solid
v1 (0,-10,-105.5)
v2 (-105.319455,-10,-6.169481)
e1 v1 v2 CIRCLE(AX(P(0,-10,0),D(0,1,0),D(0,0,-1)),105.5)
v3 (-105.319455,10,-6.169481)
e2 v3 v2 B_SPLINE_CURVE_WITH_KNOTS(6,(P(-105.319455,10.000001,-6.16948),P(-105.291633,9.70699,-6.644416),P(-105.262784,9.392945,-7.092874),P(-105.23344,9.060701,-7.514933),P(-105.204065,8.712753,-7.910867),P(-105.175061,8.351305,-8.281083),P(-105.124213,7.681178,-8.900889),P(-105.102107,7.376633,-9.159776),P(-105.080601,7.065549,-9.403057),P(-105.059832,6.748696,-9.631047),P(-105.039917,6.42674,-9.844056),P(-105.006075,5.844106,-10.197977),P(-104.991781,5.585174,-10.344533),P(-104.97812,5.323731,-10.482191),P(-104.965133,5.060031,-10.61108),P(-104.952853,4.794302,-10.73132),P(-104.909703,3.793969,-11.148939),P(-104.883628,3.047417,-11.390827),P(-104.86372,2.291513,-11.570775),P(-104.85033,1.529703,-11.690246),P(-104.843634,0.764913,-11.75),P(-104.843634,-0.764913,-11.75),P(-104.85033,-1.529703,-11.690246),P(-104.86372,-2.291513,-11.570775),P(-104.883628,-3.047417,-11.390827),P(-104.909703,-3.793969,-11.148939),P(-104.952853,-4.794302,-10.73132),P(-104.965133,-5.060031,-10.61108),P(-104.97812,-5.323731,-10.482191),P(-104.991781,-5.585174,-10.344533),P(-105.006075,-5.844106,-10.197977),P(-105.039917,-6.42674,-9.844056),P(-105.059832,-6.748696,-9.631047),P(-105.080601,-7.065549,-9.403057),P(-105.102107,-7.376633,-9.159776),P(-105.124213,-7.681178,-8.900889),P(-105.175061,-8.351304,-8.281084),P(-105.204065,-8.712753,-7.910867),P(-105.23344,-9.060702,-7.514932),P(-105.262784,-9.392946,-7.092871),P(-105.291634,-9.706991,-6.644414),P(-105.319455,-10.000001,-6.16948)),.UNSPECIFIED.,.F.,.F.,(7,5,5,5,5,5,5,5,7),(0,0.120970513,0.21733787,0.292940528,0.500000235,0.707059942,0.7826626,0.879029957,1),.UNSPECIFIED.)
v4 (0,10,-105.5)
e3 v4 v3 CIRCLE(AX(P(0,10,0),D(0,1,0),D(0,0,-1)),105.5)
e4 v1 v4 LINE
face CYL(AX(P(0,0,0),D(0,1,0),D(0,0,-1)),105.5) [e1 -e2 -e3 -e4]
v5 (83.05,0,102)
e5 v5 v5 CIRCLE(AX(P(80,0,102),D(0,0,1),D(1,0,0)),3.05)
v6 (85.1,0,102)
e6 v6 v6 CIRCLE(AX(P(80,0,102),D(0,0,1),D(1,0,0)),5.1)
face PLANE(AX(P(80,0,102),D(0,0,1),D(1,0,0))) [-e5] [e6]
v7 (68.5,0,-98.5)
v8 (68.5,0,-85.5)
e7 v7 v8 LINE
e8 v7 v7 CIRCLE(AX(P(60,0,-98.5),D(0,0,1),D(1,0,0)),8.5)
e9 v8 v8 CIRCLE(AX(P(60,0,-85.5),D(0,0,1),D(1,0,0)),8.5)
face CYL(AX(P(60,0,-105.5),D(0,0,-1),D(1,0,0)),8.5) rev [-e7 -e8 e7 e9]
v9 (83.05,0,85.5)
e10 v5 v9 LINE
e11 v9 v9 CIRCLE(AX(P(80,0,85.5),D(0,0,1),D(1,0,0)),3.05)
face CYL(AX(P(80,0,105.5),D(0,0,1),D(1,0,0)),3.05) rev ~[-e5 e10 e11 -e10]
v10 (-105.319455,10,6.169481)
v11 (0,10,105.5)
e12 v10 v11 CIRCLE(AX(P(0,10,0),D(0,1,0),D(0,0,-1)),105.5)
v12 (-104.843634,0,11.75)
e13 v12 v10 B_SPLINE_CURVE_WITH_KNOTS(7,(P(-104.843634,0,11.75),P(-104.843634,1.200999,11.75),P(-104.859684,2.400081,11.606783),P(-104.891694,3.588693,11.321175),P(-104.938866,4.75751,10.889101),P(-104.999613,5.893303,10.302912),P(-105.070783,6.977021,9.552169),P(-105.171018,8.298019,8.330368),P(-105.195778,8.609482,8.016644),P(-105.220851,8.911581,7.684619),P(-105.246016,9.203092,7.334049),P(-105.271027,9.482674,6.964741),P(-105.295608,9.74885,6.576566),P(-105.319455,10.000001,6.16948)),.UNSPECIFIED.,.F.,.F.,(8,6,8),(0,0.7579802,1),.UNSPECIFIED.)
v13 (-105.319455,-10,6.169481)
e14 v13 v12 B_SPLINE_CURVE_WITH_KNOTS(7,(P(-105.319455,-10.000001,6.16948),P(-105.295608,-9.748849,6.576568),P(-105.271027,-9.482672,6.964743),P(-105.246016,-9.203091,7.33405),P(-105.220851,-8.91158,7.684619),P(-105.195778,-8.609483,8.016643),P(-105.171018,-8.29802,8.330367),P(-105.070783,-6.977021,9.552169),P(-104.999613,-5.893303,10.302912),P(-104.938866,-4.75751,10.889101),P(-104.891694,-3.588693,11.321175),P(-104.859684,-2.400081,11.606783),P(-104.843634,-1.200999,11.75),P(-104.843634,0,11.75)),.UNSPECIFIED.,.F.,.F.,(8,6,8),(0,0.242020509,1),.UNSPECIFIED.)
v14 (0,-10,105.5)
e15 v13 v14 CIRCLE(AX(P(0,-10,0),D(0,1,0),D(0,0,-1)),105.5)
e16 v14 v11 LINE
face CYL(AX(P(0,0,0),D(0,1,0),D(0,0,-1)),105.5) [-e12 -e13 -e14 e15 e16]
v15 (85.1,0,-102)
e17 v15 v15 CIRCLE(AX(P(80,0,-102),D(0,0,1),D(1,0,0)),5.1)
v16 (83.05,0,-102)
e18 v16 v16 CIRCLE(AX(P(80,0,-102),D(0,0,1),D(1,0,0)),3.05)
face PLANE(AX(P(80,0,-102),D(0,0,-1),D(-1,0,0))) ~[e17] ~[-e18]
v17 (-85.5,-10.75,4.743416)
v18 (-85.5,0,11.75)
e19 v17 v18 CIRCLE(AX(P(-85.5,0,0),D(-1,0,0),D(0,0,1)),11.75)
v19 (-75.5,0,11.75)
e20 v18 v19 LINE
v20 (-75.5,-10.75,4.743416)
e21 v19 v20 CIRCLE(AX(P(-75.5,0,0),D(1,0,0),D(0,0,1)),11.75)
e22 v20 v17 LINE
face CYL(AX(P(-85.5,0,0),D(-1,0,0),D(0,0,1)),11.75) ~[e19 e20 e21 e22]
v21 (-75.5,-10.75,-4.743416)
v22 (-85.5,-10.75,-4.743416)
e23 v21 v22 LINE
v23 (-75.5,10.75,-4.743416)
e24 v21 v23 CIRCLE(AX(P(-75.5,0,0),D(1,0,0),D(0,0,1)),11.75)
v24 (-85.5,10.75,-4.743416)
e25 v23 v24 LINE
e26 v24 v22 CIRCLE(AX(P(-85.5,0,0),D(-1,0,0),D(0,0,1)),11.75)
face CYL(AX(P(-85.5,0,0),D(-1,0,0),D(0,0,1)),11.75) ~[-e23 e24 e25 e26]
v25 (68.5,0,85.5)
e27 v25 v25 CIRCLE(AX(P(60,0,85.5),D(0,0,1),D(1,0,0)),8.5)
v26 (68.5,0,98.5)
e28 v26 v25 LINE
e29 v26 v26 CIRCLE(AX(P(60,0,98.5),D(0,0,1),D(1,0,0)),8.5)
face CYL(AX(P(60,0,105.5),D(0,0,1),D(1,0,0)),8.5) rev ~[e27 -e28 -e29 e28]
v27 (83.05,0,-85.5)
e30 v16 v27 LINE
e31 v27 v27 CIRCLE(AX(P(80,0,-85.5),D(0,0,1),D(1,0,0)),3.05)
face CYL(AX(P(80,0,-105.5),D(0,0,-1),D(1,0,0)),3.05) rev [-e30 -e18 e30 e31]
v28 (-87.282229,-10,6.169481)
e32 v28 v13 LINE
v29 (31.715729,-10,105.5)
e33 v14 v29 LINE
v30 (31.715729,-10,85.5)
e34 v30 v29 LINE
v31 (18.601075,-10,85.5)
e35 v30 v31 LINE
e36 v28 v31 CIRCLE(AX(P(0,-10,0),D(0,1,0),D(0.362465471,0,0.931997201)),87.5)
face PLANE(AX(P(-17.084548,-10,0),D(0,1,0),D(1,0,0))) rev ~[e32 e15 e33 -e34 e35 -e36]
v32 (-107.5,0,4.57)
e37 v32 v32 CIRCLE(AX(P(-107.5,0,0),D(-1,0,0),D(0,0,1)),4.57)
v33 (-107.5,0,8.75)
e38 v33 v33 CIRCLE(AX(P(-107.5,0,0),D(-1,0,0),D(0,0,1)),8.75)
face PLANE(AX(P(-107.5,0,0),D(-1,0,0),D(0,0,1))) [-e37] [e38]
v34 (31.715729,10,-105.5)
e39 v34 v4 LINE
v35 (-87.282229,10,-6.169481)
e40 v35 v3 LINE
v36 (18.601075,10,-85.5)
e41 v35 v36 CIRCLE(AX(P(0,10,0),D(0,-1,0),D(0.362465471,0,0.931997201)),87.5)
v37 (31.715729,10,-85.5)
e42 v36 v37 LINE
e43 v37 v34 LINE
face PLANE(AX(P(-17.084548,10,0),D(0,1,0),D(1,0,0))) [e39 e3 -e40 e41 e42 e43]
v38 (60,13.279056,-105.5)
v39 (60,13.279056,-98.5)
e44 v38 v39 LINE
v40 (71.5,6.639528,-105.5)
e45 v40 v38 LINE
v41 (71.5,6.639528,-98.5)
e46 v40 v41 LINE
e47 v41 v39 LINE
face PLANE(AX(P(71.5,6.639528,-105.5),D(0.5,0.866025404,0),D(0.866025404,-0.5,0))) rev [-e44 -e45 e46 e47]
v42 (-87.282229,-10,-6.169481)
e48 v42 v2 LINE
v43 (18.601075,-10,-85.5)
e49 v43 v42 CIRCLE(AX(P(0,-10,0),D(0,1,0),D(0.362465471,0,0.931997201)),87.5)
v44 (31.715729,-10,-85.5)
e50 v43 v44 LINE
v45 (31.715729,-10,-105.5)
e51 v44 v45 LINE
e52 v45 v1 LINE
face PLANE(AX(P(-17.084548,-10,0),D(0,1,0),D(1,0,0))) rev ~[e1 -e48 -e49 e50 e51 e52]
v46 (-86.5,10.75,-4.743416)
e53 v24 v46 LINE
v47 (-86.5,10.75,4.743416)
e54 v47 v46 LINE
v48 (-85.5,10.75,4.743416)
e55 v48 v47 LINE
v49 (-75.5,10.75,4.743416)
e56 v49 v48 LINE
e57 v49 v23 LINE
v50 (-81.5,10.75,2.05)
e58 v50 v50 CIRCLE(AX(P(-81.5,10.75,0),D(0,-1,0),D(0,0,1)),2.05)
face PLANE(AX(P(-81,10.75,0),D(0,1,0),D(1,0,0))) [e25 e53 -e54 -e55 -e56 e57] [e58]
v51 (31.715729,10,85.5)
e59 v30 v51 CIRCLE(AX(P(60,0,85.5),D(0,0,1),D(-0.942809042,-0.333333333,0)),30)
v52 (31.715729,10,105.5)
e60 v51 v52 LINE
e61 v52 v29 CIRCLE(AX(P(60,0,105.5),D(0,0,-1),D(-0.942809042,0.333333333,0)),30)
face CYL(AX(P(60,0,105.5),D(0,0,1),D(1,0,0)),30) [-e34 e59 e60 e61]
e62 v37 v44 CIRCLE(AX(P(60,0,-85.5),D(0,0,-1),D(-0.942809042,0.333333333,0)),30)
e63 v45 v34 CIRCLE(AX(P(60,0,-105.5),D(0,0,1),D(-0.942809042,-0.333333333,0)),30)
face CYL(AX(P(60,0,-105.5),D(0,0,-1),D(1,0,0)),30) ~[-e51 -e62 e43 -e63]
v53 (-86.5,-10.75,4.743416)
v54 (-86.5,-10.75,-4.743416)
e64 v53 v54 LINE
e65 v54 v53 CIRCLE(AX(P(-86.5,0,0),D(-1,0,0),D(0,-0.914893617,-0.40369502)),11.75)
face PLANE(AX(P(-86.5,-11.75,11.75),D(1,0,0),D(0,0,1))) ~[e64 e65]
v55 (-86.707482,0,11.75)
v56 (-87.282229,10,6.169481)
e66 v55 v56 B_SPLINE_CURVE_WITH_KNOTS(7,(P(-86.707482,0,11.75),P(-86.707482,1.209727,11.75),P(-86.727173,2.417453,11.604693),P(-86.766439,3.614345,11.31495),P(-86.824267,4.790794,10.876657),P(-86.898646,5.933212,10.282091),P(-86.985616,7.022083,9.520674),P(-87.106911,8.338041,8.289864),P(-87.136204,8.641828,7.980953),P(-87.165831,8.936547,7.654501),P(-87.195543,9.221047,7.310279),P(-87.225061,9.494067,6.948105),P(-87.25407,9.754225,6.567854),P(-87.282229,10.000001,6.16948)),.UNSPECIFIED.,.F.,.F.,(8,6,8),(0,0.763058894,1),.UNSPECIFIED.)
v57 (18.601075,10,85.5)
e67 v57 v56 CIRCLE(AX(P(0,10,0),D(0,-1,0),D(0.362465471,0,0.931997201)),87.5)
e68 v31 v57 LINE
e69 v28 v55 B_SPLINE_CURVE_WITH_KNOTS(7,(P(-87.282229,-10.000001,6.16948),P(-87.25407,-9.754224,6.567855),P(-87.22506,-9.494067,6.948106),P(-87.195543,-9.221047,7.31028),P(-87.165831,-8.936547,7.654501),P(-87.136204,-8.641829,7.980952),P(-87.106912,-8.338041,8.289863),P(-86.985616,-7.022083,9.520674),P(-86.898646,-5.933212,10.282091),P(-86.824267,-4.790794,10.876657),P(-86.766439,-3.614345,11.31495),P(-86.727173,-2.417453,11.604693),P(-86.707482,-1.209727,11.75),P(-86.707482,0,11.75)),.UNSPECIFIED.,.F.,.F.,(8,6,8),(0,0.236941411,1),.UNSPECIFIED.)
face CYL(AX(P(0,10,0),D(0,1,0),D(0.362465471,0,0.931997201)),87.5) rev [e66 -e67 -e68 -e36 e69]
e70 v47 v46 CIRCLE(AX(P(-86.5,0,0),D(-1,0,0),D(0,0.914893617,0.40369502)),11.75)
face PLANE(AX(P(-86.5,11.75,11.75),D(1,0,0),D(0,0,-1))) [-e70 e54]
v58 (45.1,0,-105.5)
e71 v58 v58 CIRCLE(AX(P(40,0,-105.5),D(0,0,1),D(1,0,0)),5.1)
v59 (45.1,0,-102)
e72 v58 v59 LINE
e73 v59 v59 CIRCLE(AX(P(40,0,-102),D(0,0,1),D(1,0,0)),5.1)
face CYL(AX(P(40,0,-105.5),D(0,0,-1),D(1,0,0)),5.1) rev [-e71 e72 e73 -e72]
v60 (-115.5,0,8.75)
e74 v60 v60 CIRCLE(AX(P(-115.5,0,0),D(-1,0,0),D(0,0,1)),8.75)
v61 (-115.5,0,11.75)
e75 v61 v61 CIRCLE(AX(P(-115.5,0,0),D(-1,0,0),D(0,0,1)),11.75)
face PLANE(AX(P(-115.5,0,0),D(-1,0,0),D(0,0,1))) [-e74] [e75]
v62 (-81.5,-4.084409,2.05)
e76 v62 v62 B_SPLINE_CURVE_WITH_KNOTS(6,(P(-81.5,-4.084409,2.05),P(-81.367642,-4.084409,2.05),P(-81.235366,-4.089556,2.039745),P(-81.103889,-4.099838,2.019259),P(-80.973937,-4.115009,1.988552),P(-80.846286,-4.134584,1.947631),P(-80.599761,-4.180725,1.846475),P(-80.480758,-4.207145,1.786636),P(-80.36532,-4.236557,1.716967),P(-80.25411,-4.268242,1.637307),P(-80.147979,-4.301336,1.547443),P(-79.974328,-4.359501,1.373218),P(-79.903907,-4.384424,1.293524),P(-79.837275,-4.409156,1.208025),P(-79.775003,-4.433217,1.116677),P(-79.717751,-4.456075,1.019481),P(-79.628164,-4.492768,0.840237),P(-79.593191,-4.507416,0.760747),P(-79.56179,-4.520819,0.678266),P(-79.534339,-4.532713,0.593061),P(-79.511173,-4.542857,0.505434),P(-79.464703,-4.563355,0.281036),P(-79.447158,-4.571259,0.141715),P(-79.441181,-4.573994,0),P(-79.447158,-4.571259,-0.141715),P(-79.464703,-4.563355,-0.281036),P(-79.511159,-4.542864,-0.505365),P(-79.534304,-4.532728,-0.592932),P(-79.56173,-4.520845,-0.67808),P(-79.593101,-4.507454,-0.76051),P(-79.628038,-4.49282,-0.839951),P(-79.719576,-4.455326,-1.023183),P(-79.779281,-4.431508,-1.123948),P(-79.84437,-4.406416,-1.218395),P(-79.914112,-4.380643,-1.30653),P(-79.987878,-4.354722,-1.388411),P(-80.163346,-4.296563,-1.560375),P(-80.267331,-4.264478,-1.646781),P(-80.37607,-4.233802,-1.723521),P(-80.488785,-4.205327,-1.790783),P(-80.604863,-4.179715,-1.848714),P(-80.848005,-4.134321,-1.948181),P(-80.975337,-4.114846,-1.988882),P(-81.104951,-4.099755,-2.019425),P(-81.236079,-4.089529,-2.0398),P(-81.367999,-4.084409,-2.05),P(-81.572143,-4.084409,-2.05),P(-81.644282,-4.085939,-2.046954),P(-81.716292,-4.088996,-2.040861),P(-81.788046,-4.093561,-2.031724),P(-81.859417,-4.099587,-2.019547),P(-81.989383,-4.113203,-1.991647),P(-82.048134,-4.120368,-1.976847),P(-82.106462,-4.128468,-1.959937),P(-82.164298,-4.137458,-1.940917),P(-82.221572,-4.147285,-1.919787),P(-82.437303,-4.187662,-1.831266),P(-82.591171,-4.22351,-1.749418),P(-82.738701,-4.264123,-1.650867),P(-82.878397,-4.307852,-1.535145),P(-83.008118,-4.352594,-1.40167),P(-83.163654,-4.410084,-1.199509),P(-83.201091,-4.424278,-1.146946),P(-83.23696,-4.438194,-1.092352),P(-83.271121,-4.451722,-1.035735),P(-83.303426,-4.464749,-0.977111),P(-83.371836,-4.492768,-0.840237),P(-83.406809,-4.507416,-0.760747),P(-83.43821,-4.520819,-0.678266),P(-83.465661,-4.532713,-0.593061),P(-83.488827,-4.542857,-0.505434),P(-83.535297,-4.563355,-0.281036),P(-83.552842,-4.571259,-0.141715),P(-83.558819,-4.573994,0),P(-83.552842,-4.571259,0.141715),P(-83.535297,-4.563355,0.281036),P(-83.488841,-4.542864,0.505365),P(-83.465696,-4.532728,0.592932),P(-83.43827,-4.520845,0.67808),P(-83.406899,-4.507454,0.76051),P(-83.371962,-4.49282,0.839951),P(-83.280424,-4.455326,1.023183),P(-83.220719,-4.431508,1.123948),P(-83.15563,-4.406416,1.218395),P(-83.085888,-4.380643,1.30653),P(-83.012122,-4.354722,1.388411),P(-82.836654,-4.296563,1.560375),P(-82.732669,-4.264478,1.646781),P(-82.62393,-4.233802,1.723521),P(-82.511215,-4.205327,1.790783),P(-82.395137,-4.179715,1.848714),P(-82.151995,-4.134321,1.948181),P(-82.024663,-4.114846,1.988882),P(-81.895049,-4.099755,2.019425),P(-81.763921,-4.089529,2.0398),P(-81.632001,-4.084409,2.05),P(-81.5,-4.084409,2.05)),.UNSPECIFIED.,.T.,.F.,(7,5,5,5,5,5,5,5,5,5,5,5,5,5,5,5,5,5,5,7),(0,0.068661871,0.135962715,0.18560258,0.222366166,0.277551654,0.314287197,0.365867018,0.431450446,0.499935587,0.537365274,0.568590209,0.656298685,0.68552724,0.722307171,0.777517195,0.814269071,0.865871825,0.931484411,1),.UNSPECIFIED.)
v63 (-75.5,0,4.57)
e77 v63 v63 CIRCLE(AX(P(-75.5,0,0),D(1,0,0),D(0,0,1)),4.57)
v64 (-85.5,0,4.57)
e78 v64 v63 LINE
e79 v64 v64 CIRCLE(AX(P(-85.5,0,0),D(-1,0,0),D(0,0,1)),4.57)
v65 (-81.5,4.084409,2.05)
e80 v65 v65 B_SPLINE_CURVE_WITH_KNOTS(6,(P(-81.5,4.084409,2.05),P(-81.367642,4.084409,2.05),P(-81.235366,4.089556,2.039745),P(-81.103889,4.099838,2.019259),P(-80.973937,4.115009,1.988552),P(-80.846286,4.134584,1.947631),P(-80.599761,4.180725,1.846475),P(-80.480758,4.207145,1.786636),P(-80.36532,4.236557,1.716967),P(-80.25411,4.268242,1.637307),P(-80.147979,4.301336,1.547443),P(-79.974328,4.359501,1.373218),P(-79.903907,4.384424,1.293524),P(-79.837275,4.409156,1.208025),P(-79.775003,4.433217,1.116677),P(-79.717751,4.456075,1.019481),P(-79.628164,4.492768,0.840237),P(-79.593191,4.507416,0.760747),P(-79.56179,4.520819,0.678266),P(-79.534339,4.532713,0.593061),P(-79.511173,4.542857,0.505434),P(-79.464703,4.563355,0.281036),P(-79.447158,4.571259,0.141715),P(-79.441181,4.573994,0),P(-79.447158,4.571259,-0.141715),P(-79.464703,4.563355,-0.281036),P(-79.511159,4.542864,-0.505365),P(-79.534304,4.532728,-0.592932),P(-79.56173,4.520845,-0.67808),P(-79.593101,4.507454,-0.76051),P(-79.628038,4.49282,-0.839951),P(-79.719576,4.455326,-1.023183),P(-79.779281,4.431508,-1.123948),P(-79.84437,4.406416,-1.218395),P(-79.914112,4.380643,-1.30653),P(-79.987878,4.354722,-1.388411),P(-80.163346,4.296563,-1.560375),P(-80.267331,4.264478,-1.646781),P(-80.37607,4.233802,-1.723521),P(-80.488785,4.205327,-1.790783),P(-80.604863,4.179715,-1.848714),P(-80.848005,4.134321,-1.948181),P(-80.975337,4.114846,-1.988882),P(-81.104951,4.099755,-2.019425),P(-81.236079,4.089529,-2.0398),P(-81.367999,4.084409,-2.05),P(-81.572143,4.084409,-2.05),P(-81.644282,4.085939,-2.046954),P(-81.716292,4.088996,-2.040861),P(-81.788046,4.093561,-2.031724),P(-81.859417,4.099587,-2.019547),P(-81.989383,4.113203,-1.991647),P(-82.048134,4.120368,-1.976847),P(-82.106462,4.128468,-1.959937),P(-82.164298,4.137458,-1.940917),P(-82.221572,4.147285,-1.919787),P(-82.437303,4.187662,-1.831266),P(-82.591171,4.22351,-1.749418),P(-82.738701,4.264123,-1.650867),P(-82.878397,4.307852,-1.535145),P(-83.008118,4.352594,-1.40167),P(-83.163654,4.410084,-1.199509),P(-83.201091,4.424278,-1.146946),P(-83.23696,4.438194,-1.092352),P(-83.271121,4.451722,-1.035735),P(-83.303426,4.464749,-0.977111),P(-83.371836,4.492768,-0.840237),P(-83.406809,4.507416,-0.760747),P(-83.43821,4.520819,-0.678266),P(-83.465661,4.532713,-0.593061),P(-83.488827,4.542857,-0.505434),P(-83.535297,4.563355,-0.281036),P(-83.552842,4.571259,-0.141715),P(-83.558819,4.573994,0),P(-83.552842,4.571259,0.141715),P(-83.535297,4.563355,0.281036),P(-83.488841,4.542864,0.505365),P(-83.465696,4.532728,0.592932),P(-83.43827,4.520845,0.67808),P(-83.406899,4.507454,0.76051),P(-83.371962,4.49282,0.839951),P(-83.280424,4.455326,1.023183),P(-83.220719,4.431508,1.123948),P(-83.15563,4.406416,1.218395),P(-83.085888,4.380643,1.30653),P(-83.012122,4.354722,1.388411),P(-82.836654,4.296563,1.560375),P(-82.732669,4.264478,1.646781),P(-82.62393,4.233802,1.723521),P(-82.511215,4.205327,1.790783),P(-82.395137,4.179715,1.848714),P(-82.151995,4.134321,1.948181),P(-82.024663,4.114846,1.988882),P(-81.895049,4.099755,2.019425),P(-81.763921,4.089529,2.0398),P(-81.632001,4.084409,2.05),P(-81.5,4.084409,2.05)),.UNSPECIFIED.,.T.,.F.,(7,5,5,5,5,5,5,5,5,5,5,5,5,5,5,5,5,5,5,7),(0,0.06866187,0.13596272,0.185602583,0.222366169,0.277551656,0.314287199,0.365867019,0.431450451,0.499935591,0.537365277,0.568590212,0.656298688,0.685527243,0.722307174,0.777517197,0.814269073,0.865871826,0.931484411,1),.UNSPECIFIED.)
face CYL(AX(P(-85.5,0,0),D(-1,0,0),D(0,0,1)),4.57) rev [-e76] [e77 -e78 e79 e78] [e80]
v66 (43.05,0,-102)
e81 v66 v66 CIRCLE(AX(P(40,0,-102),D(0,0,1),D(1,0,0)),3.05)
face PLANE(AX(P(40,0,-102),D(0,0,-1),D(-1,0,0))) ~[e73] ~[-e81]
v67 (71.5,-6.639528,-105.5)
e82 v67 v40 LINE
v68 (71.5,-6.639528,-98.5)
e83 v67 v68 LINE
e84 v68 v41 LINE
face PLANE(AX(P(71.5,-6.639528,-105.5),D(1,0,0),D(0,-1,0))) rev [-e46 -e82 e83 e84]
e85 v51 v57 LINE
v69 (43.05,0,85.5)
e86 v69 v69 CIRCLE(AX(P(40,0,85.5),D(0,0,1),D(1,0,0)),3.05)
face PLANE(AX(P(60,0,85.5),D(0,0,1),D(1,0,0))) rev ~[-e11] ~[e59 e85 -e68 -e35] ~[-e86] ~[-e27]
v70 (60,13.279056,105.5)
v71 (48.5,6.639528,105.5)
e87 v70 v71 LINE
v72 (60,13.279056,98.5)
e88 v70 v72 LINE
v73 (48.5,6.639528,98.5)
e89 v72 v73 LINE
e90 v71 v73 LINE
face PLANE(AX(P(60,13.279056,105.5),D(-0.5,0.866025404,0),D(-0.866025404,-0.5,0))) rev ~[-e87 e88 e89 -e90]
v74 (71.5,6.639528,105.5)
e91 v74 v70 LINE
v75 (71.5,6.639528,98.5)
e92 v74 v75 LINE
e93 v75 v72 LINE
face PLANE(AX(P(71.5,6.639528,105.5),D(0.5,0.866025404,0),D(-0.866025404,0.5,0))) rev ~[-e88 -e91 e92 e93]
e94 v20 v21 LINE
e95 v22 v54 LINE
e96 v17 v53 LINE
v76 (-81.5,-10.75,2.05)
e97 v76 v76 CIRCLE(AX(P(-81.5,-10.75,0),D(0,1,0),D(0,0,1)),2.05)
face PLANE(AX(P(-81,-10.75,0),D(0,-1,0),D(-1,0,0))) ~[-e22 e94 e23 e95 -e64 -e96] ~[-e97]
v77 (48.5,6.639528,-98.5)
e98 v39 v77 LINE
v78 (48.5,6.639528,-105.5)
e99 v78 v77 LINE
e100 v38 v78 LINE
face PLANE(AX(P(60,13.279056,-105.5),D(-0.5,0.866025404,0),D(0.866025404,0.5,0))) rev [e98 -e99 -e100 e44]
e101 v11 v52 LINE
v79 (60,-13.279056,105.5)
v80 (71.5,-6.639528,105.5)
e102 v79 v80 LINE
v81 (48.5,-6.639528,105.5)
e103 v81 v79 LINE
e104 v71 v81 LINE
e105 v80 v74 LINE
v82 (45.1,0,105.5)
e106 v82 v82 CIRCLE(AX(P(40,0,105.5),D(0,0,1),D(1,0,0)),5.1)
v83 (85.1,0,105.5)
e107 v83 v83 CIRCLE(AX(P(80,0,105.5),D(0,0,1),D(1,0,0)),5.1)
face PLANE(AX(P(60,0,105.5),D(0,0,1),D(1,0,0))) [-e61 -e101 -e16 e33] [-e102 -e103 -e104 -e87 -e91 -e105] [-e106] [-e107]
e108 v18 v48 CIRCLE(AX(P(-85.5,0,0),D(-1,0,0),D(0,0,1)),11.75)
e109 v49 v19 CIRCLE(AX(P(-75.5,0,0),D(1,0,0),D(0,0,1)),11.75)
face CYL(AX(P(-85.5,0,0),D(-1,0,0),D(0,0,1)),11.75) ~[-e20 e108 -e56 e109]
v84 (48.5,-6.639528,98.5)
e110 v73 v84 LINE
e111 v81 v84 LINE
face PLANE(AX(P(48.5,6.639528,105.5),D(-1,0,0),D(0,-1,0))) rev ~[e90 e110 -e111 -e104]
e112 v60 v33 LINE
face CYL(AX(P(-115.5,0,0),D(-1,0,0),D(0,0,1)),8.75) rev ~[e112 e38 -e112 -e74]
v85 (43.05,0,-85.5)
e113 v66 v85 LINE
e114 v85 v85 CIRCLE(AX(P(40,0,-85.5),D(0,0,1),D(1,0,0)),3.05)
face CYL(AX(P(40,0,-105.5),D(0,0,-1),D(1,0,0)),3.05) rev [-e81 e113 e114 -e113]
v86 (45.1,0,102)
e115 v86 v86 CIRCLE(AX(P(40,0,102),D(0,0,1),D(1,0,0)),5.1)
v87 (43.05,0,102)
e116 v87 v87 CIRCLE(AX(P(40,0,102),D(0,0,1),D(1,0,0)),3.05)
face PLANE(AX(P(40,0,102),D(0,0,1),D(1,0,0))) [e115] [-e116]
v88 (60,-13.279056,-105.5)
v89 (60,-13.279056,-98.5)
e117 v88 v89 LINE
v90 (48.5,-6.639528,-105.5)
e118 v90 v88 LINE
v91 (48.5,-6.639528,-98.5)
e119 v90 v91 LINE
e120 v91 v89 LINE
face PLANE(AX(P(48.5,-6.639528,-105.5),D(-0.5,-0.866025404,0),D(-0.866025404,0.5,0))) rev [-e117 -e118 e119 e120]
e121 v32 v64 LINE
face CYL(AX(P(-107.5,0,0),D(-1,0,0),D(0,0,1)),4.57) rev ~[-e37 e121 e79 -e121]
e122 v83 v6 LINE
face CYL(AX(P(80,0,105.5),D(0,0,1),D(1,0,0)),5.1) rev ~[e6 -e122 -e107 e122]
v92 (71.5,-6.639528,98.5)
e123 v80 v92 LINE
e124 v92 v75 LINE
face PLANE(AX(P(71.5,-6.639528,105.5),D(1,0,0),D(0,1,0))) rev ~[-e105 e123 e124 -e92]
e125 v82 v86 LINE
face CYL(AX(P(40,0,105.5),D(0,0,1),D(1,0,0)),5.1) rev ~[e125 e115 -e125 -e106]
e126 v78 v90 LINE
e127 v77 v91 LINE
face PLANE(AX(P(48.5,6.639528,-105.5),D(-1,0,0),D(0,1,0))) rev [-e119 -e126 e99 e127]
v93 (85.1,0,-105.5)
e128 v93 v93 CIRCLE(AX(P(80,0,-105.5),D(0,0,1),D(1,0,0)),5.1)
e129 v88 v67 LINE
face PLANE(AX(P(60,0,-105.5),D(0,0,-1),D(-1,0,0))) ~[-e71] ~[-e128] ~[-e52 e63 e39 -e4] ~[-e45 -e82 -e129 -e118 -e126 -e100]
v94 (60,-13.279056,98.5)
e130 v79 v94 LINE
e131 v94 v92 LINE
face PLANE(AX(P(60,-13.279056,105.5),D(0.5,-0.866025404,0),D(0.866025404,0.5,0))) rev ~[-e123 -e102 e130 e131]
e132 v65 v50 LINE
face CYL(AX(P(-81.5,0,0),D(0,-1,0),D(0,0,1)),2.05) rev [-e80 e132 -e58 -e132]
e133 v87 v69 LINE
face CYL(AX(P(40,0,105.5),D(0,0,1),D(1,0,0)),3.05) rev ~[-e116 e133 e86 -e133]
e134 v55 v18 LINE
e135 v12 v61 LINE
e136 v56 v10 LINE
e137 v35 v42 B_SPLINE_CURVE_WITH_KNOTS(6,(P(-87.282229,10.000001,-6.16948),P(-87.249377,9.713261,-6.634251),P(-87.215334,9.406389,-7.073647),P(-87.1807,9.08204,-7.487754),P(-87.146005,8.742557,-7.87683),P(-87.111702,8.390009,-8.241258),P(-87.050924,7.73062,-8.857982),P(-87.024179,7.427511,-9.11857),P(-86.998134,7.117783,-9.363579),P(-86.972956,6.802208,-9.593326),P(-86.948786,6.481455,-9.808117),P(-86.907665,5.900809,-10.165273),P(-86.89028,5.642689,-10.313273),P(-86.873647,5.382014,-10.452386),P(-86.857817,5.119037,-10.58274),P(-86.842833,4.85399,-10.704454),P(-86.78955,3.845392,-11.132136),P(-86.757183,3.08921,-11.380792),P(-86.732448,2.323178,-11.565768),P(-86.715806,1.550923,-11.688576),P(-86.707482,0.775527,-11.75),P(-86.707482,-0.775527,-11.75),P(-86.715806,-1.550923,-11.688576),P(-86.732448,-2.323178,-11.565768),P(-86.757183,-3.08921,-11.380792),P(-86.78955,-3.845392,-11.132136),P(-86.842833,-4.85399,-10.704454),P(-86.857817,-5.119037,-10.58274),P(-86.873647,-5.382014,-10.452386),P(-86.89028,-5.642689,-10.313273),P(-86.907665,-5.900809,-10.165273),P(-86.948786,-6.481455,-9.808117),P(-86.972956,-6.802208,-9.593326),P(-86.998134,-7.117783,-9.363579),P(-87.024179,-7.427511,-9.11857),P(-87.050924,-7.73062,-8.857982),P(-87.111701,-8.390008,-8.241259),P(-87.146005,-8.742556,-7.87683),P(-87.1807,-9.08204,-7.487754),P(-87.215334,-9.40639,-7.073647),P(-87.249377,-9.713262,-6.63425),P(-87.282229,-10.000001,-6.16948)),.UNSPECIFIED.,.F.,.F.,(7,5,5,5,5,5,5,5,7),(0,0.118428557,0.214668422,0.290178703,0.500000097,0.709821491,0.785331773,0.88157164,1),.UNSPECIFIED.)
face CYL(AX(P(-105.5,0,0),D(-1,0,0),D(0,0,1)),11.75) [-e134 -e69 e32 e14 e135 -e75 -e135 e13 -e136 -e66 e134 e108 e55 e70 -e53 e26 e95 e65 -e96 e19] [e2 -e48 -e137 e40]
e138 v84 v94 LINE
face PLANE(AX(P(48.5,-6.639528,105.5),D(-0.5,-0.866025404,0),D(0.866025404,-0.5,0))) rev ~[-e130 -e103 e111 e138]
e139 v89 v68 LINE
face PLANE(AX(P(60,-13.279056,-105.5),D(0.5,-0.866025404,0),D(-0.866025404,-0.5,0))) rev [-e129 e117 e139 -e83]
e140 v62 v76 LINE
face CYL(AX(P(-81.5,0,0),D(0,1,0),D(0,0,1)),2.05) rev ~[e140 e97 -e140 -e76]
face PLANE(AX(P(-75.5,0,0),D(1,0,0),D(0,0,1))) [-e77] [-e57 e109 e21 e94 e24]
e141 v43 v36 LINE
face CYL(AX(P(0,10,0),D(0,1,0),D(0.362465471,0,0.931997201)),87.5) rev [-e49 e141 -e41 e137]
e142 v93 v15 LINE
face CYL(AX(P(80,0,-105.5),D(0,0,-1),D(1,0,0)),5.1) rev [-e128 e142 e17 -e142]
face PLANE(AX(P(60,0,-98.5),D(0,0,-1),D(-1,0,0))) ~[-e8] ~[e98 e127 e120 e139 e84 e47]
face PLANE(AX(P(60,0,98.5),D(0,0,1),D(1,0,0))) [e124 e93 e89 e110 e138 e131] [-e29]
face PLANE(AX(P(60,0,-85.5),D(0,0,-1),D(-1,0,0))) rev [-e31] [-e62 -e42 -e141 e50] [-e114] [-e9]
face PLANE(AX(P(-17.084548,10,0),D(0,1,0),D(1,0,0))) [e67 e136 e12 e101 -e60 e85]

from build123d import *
from build123d.topology import SkipClean

# Parameters (mm, degrees)
BOSS_EXTRUDE1_DEPTH      = 10
BOSS_EXTRUDE1_DEPTH_BACK = 10
SKETCH2_R                = 30
BOSS_EXTRUDE2_DEPTH      = 20
CUT_EXTRUDE1_REACH       = 239.805
SKETCH3_R                = 8.5
SKETCH3_R_2              = 3.05
CUT_EXTRUDE3_DEPTH       = 155.468443379
SKETCH7_R                = 8.5
CUT_EXTRUDE4_DEPTH       = 7
BOSS_EXTRUDE3_DEPTH      = 10
BOSS_EXTRUDE3_DEPTH_BACK = 20
SKETCH8_R                = 11.75
SKETCH9_R                = 8.75
CUT_EXTRUDE5_DEPTH       = 8
SKETCH10_R               = 4.57
CUT_EXTRUDE6_DEPTH       = 226.912593764
SKETCH11_R               = 11.75
SKETCH11_R_2             = 4.57
BOSS_EXTRUDE4_DEPTH      = 10
CUT_EXTRUDE7_DEPTH       = 160.281198025
CUT_EXTRUDE7_DEPTH_BACK  = 160.281198025
SKETCH12_R               = 2.05
SKETCH13_R               = 5.1
SKETCH13_R_2             = 3.05
CUT_EXTRUDE8_DEPTH       = 3.5
SKETCH14_W               = 11
SKETCH14_H               = 23.5
CUT_EXTRUDE9_DEPTH       = 1


with BuildPart() as part:
    # Sketch1 → Boss-Extrude1 (new, two sides: drawn at the far end of the back side and taken through both)
    with BuildSketch(Plane(origin=(0, 0, 0), x_dir=(1, 0, 0), z_dir=(0, 1, 0)).offset(-BOSS_EXTRUDE1_DEPTH_BACK)):
        with BuildLine():
            ThreePointArc((0, -85.5), (-85.5, 0), (0, 85.5))
            Line((0, 85.5), (80, 85.5))
            Line((80, 85.5), (80, 105.5))
            Line((80, 105.5), (0, 105.5))
            ThreePointArc((0, 105.5), (-105.5, 0), (0, -105.5))
            Line((0, -105.5), (80, -105.5))
            Line((80, -105.5), (80, -85.5))
            Line((80, -85.5), (0, -85.5))
        make_face()
    extrude(amount=BOSS_EXTRUDE1_DEPTH + BOSS_EXTRUDE1_DEPTH_BACK)

    # Sketch2 → Boss-Extrude2 (add)
    with BuildSketch(Plane.XY.offset(105.5)):
        with Locations((60, 0)):
            Circle(SKETCH2_R)
    boss_extrude2 = extrude(amount=-BOSS_EXTRUDE2_DEPTH)

    # Sketch3 → Cut-Extrude1 (cut, up to next)
    with BuildSketch(Plane.XY.offset(105.5), mode=Mode.PRIVATE) as cut_extrude1_sk1:
        with Locations((60, 0)):
            Circle(SKETCH3_R)
    cut_extrude1_tool1 = extrude(cut_extrude1_sk1.sketch, amount=-CUT_EXTRUDE1_REACH, mode=Mode.PRIVATE) & part.part
    # Sketch3 → Cut-Extrude1 (cut, up to next)
    with BuildSketch(Plane.XY.offset(105.5), mode=Mode.PRIVATE) as cut_extrude1_sk2:
        with Locations((80, 0)):
            Circle(SKETCH3_R_2)
    cut_extrude1_tool2 = extrude(cut_extrude1_sk2.sketch, amount=-CUT_EXTRUDE1_REACH, mode=Mode.PRIVATE) & part.part
    # Sketch3 → Cut-Extrude1 (cut, up to next)
    with BuildSketch(Plane.XY.offset(105.5), mode=Mode.PRIVATE) as cut_extrude1_sk3:
        with Locations((40, 0)):
            Circle(SKETCH3_R_2)
    cut_extrude1_tool3 = extrude(cut_extrude1_sk3.sketch, amount=-CUT_EXTRUDE1_REACH, mode=Mode.PRIVATE) & part.part
    cut_extrude1_1 = cut_extrude1_tool1.solids().sort_by_distance((60, 0, 105.5))[0]
    add(cut_extrude1_1, mode=Mode.SUBTRACT)
    cut_extrude1_2 = cut_extrude1_tool2.solids().sort_by_distance((80, 0, 105.5))[0]
    add(cut_extrude1_2, mode=Mode.SUBTRACT)
    cut_extrude1_3 = cut_extrude1_tool3.solids().sort_by_distance((40, 0, 105.5))[0]
    add(cut_extrude1_3, mode=Mode.SUBTRACT)
    cut_extrude1 = cut_extrude1_1 + cut_extrude1_2 + cut_extrude1_3  # Cut-Extrude1 as one shape, for the pattern or mirror that repeats it

    # Mirror2: Boss-Extrude2, Cut-Extrude1 across plane
    add(boss_extrude2.mirror(Plane.XY))
    add(cut_extrude1.mirror(Plane.XY), mode=Mode.SUBTRACT)

    # Sketch6 → Cut-Extrude3 (cut, through all)
    with BuildSketch(Plane(origin=(0, 10, 0), x_dir=(1, 0, 0), z_dir=(0, 1, 0))):
        with BuildLine():
            Line((31.715728753, 81.549755056), (31.715728753, -81.549755056))
            ThreePointArc((31.715728753, -81.549755056), (-87.5, 0), (31.715728753, 81.549755056))
        make_face()
    extrude(amount=-CUT_EXTRUDE3_DEPTH, mode=Mode.SUBTRACT)

    # Sketch7 → Cut-Extrude4 (cut)
    with BuildSketch(Plane.XY.offset(105.5)):
        Polygon((60, 13.279056191), (48.5, 6.639528096), (48.5, -6.639528096), (60, -13.279056191), (71.5, -6.639528096), (71.5, 6.639528096), align=None)
        with Locations((60, 0)):
            Circle(SKETCH7_R, mode=Mode.SUBTRACT)
    cut_extrude4 = extrude(amount=-CUT_EXTRUDE4_DEPTH, mode=Mode.SUBTRACT)

    # Mirror3: Cut-Extrude4 across plane
    add(cut_extrude4.mirror(Plane.XY), mode=Mode.SUBTRACT)

    # Sketch8 → Boss-Extrude3 (add, two sides: drawn at the far end of the back side and taken through both)
    with BuildSketch(Plane.ZY.offset(105.5).offset(-BOSS_EXTRUDE3_DEPTH_BACK)):
        Circle(SKETCH8_R)
    extrude(amount=BOSS_EXTRUDE3_DEPTH + BOSS_EXTRUDE3_DEPTH_BACK)

    # Sketch9 → Cut-Extrude5 (cut)
    with BuildSketch(Plane.ZY.offset(115.5)):
        Circle(SKETCH9_R)
    extrude(amount=-CUT_EXTRUDE5_DEPTH, mode=Mode.SUBTRACT)

    # Sketch10 → Cut-Extrude6 (cut, through all)
    with BuildSketch(Plane.ZY.offset(107.5)):
        Circle(SKETCH10_R)
    extrude(amount=-CUT_EXTRUDE6_DEPTH, mode=Mode.SUBTRACT)

    # Sketch11 → Boss-Extrude4 (add)
    with BuildSketch(Plane(origin=(-85.5, 0, 0), x_dir=(0, 0, -1), z_dir=(1, 0, 0))):
        Circle(SKETCH11_R)
        Circle(SKETCH11_R_2, mode=Mode.SUBTRACT)
    extrude(amount=BOSS_EXTRUDE4_DEPTH)

    # Sketch12 → Cut-Extrude7 (cut, two sides: drawn at the far end of the back side and taken through both)
    with BuildSketch(Plane(origin=(0, 0, 0), x_dir=(1, 0, 0), z_dir=(0, 1, 0)).offset(-CUT_EXTRUDE7_DEPTH_BACK)):
        with Locations((-81.5, 0)):
            Circle(SKETCH12_R)
    extrude(amount=CUT_EXTRUDE7_DEPTH + CUT_EXTRUDE7_DEPTH_BACK, mode=Mode.SUBTRACT)

    # Sketch13 → Cut-Extrude8 (cut)
    # profile 1 of 2: a face of its own
    with BuildSketch(Plane.XY.offset(105.5)):
        with Locations((40, 0)):
            Circle(SKETCH13_R)
        with Locations((40, 0)):
            Circle(SKETCH13_R_2, mode=Mode.SUBTRACT)
    # profile 2 of 2: a face of its own
    with BuildSketch(Plane.XY.offset(105.5)):
        with Locations((80, 0)):
            Circle(SKETCH13_R)
        with Locations((80, 0)):
            Circle(SKETCH13_R_2, mode=Mode.SUBTRACT)
    cut_extrude8 = extrude(amount=-CUT_EXTRUDE8_DEPTH, mode=Mode.SUBTRACT)

    # Mirror4: Cut-Extrude8 across plane
    add(cut_extrude8.mirror(Plane.XY), mode=Mode.SUBTRACT)

    # Sketch14 → Cut-Extrude9 (cut)
    with SkipClean():  # the faces are left unmerged after this step: merging them gives an invalid solid
        with BuildSketch(Plane(origin=(0, 11.75, 0), x_dir=(1, 0, 0), z_dir=(0, 1, 0))):
            with Locations((-81, 0)):
                Rectangle(SKETCH14_W, SKETCH14_H)
        cut_extrude9 = extrude(amount=-CUT_EXTRUDE9_DEPTH, mode=Mode.SUBTRACT)

    # Mirror5: Cut-Extrude9 across plane
    with SkipClean():  # the faces are left unmerged after this step: merging them gives an invalid solid
        add(cut_extrude9.mirror(Plane.ZX), mode=Mode.SUBTRACT)


solid = part.part
